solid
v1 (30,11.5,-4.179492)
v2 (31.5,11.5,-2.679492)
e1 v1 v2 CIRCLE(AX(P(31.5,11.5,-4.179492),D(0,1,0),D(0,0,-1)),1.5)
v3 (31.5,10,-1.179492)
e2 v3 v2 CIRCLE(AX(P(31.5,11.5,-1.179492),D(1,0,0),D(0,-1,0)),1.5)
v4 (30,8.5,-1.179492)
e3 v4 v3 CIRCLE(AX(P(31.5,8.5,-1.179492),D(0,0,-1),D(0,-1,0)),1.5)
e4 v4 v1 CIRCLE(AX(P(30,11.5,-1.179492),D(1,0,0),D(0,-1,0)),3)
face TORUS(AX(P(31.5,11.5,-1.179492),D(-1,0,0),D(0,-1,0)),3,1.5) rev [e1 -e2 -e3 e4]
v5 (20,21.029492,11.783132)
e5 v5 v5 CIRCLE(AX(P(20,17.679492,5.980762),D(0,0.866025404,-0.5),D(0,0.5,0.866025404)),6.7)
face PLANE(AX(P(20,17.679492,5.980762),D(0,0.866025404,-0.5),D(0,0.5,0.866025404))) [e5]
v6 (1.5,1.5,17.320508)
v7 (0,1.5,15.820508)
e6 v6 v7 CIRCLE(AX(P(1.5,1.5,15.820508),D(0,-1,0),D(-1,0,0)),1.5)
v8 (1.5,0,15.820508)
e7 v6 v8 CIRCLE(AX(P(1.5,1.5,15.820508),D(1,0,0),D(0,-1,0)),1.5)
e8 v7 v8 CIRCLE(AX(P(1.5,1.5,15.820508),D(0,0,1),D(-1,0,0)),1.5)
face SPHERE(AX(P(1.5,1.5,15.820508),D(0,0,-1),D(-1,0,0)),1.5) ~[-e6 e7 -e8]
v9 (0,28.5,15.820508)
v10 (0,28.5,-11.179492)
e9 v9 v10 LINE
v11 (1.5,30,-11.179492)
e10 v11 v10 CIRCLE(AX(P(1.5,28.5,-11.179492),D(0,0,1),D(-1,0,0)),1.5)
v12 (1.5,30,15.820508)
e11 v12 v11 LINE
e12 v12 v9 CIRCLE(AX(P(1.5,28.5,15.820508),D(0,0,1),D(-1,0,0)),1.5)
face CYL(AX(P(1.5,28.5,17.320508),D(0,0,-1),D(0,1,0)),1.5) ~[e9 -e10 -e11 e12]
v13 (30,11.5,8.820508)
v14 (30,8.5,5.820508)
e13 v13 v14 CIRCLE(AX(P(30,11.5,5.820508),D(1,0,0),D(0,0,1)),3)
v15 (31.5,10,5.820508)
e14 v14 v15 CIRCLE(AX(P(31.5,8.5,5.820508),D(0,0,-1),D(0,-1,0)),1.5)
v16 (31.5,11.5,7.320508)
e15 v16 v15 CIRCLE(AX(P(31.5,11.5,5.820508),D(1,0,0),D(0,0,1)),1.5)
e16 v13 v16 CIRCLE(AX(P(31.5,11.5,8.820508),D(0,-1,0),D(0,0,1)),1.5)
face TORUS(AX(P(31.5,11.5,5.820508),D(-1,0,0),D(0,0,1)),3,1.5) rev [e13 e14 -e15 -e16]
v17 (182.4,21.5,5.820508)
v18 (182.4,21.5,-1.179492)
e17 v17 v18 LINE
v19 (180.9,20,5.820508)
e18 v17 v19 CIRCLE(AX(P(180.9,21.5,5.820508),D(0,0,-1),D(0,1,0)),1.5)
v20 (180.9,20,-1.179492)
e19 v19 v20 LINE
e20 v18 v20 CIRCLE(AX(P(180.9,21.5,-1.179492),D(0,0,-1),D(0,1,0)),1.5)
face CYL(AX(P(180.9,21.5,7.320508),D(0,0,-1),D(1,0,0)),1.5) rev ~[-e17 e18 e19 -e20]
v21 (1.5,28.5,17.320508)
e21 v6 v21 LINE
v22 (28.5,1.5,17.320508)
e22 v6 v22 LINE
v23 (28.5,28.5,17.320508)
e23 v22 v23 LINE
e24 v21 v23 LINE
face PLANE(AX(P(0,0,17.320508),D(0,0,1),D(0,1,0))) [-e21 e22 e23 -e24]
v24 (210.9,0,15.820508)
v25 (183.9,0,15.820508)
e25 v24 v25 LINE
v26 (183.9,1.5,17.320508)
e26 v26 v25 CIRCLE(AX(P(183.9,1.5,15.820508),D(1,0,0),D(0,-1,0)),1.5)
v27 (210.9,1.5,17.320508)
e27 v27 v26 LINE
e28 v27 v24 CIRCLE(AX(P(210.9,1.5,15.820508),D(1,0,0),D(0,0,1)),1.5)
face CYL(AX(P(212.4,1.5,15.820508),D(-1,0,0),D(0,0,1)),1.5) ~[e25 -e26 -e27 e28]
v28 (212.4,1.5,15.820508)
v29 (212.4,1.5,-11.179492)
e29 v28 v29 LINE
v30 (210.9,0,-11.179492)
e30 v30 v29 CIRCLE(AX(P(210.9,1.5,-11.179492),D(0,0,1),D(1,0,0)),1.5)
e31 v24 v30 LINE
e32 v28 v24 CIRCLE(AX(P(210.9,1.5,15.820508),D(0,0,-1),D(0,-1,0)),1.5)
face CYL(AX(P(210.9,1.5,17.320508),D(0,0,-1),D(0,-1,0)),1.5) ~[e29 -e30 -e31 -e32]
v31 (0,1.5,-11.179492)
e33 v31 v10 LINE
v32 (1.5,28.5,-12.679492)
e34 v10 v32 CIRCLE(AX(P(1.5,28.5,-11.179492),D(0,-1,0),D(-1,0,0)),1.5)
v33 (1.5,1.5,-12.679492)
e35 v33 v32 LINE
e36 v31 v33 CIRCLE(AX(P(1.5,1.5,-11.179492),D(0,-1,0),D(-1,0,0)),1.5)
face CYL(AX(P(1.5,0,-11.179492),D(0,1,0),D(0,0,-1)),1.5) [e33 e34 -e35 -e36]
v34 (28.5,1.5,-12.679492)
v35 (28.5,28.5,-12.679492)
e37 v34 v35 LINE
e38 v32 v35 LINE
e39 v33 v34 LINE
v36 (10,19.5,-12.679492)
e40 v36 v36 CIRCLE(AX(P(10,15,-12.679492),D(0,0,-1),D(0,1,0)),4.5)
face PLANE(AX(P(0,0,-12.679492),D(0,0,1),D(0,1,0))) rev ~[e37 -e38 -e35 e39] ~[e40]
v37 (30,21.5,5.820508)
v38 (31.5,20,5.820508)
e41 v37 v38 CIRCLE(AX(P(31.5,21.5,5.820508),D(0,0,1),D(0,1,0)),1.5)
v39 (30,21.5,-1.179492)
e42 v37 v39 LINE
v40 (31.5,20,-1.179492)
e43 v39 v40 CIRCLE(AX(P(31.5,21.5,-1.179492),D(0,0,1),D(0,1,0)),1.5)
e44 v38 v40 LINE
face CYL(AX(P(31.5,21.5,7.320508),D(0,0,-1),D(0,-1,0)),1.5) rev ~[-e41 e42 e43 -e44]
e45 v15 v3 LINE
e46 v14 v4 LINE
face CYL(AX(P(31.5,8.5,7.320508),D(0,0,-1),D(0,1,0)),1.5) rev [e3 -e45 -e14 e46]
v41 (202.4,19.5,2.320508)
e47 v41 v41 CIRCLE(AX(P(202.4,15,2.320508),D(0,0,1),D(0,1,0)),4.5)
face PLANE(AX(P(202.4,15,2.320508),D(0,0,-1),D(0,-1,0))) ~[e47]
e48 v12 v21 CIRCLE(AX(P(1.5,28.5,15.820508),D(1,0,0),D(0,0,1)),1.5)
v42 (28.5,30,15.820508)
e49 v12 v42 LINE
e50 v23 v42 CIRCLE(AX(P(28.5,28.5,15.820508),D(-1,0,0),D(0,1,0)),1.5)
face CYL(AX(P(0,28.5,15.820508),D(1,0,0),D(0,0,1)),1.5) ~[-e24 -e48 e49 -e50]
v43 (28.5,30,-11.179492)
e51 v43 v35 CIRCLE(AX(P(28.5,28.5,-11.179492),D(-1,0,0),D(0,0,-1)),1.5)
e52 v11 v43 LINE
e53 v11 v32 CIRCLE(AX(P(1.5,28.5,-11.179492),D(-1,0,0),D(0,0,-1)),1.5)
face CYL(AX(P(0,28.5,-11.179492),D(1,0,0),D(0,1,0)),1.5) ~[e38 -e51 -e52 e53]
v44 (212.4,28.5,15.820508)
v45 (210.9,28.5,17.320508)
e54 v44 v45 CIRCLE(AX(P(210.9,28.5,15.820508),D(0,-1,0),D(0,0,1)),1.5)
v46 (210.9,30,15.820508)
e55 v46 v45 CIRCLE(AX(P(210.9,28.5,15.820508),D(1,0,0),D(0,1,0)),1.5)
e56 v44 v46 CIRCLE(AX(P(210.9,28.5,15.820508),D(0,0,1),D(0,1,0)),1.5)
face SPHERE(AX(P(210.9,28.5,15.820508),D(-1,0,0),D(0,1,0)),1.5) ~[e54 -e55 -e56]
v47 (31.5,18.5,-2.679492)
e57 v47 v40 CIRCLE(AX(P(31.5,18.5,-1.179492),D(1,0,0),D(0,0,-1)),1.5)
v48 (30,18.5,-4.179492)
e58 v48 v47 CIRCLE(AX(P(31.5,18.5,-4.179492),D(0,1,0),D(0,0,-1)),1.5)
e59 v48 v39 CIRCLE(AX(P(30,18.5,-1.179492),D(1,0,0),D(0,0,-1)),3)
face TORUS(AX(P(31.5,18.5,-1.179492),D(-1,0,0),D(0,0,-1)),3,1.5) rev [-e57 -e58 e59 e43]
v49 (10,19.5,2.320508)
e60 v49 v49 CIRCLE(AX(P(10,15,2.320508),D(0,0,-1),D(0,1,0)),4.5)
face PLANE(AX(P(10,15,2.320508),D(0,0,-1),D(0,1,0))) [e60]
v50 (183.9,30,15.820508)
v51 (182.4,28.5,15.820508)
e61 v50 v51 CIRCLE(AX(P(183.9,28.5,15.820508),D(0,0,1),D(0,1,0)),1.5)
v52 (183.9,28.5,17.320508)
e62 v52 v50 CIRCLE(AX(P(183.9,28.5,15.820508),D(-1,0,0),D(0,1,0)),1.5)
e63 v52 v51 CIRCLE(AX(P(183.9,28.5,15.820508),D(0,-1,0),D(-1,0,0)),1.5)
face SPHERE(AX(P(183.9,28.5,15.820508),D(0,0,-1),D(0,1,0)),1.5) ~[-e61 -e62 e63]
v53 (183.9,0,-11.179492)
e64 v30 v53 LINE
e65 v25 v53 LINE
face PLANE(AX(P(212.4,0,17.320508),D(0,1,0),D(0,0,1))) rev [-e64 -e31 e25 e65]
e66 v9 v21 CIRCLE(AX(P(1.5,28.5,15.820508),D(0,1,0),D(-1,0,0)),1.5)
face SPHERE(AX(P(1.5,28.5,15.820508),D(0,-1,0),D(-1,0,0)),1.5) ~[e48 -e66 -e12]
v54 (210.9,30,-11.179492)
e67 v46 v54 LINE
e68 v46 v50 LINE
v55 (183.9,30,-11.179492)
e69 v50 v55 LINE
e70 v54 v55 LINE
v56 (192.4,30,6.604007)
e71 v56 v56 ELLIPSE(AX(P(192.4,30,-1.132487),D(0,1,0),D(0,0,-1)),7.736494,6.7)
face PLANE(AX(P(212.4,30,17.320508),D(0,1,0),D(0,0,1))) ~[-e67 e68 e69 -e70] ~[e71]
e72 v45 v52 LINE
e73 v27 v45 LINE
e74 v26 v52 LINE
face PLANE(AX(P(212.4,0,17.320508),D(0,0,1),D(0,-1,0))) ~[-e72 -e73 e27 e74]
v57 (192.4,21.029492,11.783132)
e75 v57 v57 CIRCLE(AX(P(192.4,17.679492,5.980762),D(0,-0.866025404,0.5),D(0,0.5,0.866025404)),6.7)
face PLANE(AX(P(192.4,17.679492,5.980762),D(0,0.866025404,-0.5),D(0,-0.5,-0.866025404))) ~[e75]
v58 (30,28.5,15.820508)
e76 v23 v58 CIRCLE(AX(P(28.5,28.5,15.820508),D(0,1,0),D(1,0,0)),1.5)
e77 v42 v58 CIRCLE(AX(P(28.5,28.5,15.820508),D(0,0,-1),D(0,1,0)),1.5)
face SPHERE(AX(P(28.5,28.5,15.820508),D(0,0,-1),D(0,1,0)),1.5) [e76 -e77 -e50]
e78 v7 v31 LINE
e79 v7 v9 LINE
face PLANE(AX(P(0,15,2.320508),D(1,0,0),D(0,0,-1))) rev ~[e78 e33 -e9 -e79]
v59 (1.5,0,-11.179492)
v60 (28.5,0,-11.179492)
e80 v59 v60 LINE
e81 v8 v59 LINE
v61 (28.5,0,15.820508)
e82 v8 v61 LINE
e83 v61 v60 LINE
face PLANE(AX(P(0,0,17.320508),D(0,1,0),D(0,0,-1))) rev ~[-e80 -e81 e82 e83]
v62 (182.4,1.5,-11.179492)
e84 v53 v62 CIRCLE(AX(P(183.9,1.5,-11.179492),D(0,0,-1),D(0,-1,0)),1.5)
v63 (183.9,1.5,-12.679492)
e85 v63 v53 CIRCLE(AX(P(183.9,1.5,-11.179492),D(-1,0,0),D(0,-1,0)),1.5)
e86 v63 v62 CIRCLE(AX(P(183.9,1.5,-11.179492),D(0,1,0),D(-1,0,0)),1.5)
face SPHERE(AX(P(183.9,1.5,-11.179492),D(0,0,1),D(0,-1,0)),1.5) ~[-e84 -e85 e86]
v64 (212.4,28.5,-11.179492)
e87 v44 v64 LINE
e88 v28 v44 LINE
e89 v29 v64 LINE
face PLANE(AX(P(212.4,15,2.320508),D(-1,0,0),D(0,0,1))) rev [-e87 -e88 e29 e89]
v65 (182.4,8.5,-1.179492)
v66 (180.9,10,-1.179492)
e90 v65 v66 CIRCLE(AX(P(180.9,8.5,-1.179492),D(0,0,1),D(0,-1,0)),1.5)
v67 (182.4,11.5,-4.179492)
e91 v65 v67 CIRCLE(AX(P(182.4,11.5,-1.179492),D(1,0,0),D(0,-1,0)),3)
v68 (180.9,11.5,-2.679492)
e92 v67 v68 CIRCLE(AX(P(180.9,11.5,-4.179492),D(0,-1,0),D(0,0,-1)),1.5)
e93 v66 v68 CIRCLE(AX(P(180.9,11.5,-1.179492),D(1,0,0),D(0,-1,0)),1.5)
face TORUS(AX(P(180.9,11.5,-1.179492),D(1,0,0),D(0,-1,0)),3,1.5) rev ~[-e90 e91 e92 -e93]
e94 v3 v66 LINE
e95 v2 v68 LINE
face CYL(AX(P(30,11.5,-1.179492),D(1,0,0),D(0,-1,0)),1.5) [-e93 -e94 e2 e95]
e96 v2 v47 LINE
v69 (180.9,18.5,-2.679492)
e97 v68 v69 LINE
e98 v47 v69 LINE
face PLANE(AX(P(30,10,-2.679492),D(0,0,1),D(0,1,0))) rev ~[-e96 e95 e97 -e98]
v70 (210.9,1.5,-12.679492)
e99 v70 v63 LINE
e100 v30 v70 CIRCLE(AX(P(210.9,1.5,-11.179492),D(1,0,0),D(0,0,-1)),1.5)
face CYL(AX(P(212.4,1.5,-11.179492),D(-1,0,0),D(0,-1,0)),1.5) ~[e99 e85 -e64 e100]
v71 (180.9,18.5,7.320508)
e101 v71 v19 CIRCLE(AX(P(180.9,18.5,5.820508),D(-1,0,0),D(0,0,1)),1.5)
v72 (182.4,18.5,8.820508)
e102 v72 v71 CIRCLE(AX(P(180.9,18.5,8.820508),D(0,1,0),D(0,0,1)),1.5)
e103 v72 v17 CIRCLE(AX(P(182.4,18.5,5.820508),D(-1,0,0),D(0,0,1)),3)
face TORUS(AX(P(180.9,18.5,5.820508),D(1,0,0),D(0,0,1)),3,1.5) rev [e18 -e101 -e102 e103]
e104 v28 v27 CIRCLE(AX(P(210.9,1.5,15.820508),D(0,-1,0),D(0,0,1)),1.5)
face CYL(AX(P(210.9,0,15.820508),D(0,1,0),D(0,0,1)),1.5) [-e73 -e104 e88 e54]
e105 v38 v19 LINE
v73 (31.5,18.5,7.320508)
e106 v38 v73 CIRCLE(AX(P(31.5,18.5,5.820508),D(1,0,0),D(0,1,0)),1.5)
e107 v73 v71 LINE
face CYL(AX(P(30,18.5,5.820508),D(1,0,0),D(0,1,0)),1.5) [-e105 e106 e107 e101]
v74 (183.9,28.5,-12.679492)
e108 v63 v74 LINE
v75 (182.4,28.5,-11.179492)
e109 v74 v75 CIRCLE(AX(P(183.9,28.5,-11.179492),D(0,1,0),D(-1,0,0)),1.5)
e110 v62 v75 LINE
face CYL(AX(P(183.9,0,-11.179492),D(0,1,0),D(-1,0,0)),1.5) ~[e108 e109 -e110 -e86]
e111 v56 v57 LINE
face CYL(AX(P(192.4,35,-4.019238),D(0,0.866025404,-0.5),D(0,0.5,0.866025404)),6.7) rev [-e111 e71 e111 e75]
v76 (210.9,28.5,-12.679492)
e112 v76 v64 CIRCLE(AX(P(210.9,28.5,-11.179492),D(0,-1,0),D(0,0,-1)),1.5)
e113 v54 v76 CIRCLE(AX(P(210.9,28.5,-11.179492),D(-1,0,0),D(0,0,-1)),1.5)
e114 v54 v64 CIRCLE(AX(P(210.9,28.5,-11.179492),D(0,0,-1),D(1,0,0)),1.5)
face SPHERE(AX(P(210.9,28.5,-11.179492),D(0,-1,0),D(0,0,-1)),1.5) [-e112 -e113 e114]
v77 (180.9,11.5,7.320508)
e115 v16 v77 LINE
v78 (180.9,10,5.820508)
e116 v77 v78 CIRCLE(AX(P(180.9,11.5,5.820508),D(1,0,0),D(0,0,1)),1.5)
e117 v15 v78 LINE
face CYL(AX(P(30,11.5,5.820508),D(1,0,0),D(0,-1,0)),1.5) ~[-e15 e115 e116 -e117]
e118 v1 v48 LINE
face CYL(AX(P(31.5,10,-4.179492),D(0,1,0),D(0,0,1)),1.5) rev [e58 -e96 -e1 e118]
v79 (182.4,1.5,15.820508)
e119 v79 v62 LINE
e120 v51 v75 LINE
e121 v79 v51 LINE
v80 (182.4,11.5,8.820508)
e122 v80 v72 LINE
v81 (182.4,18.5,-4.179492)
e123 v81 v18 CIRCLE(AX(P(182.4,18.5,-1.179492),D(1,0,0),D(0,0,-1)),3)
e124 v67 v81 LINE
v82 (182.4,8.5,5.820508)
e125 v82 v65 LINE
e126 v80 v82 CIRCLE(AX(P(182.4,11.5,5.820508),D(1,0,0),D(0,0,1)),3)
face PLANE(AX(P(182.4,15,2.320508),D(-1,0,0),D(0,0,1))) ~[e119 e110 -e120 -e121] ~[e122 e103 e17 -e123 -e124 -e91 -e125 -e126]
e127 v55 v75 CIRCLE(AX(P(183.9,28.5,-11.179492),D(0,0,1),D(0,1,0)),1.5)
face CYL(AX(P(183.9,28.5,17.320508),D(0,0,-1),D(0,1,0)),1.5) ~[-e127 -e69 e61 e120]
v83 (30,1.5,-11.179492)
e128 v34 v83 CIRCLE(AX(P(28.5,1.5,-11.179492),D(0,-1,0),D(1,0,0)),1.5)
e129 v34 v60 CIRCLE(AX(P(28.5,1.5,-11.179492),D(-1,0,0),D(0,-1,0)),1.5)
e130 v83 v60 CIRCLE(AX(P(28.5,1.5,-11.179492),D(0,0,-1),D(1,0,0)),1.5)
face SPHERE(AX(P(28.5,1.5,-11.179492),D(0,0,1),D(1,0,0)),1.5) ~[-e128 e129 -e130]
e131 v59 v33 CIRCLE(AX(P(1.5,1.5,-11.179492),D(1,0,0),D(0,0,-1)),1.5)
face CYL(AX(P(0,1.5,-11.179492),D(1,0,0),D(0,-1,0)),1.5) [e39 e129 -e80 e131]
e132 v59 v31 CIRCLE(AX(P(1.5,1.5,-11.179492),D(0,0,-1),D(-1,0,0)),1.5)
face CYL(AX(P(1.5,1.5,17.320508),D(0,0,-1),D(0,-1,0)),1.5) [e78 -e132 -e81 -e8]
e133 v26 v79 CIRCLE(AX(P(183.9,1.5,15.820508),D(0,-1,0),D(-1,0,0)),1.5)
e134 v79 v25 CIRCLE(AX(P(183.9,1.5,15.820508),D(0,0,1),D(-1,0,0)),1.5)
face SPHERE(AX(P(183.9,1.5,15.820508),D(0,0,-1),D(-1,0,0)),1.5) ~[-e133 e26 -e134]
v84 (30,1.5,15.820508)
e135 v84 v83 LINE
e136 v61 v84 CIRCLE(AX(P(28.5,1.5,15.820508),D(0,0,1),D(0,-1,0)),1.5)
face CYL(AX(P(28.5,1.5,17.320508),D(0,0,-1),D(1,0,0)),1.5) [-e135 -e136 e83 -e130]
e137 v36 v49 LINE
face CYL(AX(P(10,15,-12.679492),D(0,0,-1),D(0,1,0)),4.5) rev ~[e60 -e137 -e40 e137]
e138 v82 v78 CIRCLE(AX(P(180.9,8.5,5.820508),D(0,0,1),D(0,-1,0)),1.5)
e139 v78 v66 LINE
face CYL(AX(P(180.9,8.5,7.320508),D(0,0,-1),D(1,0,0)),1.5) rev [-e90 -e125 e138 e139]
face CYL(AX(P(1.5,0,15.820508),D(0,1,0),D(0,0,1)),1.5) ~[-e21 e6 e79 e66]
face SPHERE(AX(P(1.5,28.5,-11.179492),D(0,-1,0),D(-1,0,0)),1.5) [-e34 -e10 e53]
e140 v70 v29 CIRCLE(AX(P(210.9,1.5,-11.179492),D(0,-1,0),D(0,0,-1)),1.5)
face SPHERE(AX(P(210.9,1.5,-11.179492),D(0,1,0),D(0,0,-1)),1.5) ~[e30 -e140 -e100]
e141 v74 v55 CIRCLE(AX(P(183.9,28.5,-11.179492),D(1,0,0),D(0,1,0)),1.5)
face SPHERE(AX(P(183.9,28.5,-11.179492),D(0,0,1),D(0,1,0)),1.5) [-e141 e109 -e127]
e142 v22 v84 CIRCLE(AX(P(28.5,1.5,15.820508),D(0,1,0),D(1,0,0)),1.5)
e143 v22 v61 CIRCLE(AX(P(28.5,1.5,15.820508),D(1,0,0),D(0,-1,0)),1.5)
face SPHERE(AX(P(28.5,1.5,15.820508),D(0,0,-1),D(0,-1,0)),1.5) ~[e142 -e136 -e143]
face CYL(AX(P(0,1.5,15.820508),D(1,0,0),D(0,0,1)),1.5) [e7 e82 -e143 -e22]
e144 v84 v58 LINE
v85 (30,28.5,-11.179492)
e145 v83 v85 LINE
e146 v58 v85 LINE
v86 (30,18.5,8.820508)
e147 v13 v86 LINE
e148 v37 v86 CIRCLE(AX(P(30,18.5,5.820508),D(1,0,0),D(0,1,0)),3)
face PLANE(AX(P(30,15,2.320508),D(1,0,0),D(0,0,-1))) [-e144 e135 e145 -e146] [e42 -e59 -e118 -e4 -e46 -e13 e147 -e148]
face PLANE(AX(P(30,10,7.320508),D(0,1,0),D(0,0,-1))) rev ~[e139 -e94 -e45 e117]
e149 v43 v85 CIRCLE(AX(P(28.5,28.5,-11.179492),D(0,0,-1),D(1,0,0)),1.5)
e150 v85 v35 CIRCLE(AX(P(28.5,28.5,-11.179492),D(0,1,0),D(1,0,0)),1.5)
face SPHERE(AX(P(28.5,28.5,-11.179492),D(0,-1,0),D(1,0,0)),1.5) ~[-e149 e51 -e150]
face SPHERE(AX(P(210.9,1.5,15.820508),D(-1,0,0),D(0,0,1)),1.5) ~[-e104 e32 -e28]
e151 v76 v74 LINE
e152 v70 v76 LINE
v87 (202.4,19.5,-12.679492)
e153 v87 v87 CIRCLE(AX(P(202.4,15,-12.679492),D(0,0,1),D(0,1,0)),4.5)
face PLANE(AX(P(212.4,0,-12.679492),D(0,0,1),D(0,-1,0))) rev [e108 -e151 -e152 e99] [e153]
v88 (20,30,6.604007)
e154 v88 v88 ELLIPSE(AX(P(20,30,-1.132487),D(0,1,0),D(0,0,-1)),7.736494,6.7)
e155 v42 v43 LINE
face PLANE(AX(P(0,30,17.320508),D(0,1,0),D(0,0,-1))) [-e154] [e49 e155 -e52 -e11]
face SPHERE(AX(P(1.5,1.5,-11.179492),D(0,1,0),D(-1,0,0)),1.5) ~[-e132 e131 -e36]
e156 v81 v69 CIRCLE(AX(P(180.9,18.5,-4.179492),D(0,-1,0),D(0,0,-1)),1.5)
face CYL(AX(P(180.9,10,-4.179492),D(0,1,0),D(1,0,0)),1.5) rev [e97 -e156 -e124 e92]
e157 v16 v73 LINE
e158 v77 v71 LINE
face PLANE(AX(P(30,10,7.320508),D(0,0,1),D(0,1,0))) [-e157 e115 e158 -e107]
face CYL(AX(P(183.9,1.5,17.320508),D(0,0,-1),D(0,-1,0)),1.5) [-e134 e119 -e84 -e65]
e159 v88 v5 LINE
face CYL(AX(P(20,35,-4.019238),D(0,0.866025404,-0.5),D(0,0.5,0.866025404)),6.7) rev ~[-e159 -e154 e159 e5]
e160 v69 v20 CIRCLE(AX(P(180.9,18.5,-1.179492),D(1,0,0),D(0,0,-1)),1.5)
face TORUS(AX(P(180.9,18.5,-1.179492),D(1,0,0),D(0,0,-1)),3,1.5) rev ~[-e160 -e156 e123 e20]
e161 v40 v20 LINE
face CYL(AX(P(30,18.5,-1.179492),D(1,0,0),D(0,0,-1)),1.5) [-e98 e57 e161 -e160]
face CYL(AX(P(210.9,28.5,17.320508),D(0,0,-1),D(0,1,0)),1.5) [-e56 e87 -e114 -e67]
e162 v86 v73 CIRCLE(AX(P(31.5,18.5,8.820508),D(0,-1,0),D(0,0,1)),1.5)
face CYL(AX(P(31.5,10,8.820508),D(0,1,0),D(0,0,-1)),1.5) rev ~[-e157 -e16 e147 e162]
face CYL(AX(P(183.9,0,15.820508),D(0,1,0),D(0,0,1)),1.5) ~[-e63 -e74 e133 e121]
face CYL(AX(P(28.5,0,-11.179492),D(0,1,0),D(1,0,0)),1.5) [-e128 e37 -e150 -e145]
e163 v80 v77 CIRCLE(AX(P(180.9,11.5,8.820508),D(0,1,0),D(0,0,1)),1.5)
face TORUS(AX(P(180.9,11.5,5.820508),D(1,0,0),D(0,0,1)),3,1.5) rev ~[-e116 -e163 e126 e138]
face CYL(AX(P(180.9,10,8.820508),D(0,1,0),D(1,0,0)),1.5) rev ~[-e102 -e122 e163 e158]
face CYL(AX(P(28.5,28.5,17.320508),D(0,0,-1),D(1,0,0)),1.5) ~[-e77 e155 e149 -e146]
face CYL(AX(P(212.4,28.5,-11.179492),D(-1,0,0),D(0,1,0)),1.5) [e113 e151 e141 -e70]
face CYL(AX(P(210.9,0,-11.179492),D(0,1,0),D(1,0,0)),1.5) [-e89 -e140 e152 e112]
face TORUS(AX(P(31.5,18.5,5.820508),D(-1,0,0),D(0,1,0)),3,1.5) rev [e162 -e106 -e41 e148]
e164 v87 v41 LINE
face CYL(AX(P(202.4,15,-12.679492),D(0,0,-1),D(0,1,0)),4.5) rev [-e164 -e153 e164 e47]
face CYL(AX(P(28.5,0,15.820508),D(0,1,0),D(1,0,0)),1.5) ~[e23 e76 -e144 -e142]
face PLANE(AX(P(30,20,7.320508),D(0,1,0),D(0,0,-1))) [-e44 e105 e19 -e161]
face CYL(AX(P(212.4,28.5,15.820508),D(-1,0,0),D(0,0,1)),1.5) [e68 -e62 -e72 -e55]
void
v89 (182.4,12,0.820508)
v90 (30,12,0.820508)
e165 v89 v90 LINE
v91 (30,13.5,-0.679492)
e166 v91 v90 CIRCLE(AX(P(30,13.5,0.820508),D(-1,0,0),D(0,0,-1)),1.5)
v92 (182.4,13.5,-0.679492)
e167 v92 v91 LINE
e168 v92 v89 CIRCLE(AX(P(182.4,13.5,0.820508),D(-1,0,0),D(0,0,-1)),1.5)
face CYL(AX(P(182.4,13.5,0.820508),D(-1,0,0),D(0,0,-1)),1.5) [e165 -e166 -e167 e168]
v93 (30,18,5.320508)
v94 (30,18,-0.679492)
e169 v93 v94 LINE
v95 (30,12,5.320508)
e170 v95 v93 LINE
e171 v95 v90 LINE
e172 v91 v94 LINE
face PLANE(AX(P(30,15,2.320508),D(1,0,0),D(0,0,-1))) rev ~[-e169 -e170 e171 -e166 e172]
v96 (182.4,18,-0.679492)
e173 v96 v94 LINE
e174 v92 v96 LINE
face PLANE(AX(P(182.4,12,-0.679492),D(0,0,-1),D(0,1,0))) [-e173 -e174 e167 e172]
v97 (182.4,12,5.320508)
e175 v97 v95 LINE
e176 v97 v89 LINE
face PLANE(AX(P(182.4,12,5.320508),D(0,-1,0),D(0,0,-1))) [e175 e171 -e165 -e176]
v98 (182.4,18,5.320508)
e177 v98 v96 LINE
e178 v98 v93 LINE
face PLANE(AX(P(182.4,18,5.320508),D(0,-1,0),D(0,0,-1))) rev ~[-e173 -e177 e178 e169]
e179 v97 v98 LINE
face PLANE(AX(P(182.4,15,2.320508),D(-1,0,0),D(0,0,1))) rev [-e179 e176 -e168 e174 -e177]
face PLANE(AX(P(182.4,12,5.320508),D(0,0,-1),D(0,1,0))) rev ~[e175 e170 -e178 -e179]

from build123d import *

# Parameters (mm, degrees)
SKETCH1_W           = 30
SKETCH1_H           = 30
BOSS_EXTRUDE1_DEPTH = 30
SKETCH2_W           = 10
SKETCH2_H           = 10
BOSS_EXTRUDE2_DEPTH = 152.4
SKETCH3_W           = 6
SKETCH3_H           = 6
CUT_EXTRUDE1_DEPTH  = 152.4
SKETCH6_R           = 4.5
CUT_EXTRUDE2_DEPTH  = 15
SKETCH7_R           = 6.7
CUT_EXTRUDE3_DEPTH  = 20
FILLET1_R           = 1.5


with BuildPart() as part:
    # Sketch1 → Boss-Extrude1 (new body)
    with BuildSketch(Plane(origin=(0, 0, 0), x_dir=(0, 0, -1), z_dir=(1, 0, 0))):
        with Locations((-2.320508076, 15)):
            Rectangle(SKETCH1_W, SKETCH1_H)
    boss_extrude1 = extrude(amount=BOSS_EXTRUDE1_DEPTH)

    # Sketch2 → Boss-Extrude2 (add)
    with BuildSketch(Plane(origin=(30, 0, 0), x_dir=(0, 0, -1), z_dir=(1, 0, 0))):
        with Locations((-2.320508076, 15)):
            Rectangle(SKETCH2_W, SKETCH2_H)
    extrude(amount=BOSS_EXTRUDE2_DEPTH)

    # Sketch3 → Cut-Extrude1 (cut)
    with BuildSketch(Plane(origin=(182.4, 0, 0), x_dir=(0, 0, -1), z_dir=(1, 0, 0))):
        with Locations((-2.320508076, 15)):
            Rectangle(SKETCH3_W, SKETCH3_H)
    extrude(amount=-CUT_EXTRUDE1_DEPTH, mode=Mode.SUBTRACT)

    # Sketch6 → Cut-Extrude2 (cut)
    with BuildSketch(Plane(origin=(0, 0, -12.679491924), x_dir=(-1, 0, 0), z_dir=(0, 0, -1))):
        with Locations(Location((-10, 15, 0), (0, 0, 90))):
            Circle(SKETCH6_R)
    cut_extrude2 = extrude(amount=-CUT_EXTRUDE2_DEPTH, mode=Mode.SUBTRACT)

    # Sketch7 → Cut-Extrude3 (cut)
    with BuildSketch(Plane(origin=(0, 27.990381057, -16.160254038), x_dir=(-1, 0, 0), z_dir=(0, 0.8660254037844349, -0.5000000000000066))):
        with Locations(Location((-20, 14.019237886, 0), (0, 0, 90))):
            Circle(SKETCH7_R)
    cut_extrude3 = extrude(amount=-CUT_EXTRUDE3_DEPTH, mode=Mode.SUBTRACT)

    # Mirror1: Boss-Extrude1, Cut-Extrude2, Cut-Extrude3 across plane
    add(boss_extrude1.mirror(Plane(origin=(106.2, 0, 0), x_dir=(0, 0, 1), z_dir=(1, 0, 0))))
    add(cut_extrude2.mirror(Plane(origin=(106.2, 0, 0), x_dir=(0, 0, 1), z_dir=(1, 0, 0))), mode=Mode.SUBTRACT)
    add(cut_extrude3.mirror(Plane(origin=(106.2, 0, 0), x_dir=(0, 0, 1), z_dir=(1, 0, 0))), mode=Mode.SUBTRACT)

    # Fillet1
    fillet1_edges = [part.edges().sort_by_distance(p)[0] for p in [
        (30, 0, 2.320508076),
        (30, 15, 7.320508076),
        (106.2, 20, 7.320508076),
        (30, 10, 2.320508076),
        (106.2, 10, 7.320508076),
        (30, 15, -2.679491924),
        (106.2, 10, -2.679491924),
        (30, 20, 2.320508076),
        (106.2, 20, -2.679491924),
        (30, 15, -12.679491924),
        (182.4, 15, 7.320508076),
        (182.4, 10, 2.320508076),
        (182.4, 15, -2.679491924),
        (182.4, 20, 2.320508076),
        (106.2, 12, -0.679491924),
        (30, 30, 2.320508076),
        (0, 15, -12.679491924),
        (0, 0, 2.320508076),
        (0, 15, 17.320508076),
        (182.4, 30, 2.320508076),
        (197.4, 30, 17.320508076),
        (212.4, 15, -12.679491924),
        (197.4, 30, -12.679491924),
        (182.4, 0, 2.320508076),
        (197.4, 0, -12.679491924),
        (182.4, 15, 17.320508076),
        (197.4, 0, 17.320508076),
        (182.4, 15, -12.679491924),
        (212.4, 30, 2.320508076),
        (212.4, 15, 17.320508076),
        (212.4, 0, 2.320508076),
        (0, 30, 2.320508076),
        (15, 30, -12.679491924),
        (15, 0, -12.679491924),
        (15, 0, 17.320508076),
        (15, 30, 17.320508076),
        (30, 15, 17.320508076),
    ]]
    fillet(fillet1_edges, radius=FILLET1_R)


solid = part.part
